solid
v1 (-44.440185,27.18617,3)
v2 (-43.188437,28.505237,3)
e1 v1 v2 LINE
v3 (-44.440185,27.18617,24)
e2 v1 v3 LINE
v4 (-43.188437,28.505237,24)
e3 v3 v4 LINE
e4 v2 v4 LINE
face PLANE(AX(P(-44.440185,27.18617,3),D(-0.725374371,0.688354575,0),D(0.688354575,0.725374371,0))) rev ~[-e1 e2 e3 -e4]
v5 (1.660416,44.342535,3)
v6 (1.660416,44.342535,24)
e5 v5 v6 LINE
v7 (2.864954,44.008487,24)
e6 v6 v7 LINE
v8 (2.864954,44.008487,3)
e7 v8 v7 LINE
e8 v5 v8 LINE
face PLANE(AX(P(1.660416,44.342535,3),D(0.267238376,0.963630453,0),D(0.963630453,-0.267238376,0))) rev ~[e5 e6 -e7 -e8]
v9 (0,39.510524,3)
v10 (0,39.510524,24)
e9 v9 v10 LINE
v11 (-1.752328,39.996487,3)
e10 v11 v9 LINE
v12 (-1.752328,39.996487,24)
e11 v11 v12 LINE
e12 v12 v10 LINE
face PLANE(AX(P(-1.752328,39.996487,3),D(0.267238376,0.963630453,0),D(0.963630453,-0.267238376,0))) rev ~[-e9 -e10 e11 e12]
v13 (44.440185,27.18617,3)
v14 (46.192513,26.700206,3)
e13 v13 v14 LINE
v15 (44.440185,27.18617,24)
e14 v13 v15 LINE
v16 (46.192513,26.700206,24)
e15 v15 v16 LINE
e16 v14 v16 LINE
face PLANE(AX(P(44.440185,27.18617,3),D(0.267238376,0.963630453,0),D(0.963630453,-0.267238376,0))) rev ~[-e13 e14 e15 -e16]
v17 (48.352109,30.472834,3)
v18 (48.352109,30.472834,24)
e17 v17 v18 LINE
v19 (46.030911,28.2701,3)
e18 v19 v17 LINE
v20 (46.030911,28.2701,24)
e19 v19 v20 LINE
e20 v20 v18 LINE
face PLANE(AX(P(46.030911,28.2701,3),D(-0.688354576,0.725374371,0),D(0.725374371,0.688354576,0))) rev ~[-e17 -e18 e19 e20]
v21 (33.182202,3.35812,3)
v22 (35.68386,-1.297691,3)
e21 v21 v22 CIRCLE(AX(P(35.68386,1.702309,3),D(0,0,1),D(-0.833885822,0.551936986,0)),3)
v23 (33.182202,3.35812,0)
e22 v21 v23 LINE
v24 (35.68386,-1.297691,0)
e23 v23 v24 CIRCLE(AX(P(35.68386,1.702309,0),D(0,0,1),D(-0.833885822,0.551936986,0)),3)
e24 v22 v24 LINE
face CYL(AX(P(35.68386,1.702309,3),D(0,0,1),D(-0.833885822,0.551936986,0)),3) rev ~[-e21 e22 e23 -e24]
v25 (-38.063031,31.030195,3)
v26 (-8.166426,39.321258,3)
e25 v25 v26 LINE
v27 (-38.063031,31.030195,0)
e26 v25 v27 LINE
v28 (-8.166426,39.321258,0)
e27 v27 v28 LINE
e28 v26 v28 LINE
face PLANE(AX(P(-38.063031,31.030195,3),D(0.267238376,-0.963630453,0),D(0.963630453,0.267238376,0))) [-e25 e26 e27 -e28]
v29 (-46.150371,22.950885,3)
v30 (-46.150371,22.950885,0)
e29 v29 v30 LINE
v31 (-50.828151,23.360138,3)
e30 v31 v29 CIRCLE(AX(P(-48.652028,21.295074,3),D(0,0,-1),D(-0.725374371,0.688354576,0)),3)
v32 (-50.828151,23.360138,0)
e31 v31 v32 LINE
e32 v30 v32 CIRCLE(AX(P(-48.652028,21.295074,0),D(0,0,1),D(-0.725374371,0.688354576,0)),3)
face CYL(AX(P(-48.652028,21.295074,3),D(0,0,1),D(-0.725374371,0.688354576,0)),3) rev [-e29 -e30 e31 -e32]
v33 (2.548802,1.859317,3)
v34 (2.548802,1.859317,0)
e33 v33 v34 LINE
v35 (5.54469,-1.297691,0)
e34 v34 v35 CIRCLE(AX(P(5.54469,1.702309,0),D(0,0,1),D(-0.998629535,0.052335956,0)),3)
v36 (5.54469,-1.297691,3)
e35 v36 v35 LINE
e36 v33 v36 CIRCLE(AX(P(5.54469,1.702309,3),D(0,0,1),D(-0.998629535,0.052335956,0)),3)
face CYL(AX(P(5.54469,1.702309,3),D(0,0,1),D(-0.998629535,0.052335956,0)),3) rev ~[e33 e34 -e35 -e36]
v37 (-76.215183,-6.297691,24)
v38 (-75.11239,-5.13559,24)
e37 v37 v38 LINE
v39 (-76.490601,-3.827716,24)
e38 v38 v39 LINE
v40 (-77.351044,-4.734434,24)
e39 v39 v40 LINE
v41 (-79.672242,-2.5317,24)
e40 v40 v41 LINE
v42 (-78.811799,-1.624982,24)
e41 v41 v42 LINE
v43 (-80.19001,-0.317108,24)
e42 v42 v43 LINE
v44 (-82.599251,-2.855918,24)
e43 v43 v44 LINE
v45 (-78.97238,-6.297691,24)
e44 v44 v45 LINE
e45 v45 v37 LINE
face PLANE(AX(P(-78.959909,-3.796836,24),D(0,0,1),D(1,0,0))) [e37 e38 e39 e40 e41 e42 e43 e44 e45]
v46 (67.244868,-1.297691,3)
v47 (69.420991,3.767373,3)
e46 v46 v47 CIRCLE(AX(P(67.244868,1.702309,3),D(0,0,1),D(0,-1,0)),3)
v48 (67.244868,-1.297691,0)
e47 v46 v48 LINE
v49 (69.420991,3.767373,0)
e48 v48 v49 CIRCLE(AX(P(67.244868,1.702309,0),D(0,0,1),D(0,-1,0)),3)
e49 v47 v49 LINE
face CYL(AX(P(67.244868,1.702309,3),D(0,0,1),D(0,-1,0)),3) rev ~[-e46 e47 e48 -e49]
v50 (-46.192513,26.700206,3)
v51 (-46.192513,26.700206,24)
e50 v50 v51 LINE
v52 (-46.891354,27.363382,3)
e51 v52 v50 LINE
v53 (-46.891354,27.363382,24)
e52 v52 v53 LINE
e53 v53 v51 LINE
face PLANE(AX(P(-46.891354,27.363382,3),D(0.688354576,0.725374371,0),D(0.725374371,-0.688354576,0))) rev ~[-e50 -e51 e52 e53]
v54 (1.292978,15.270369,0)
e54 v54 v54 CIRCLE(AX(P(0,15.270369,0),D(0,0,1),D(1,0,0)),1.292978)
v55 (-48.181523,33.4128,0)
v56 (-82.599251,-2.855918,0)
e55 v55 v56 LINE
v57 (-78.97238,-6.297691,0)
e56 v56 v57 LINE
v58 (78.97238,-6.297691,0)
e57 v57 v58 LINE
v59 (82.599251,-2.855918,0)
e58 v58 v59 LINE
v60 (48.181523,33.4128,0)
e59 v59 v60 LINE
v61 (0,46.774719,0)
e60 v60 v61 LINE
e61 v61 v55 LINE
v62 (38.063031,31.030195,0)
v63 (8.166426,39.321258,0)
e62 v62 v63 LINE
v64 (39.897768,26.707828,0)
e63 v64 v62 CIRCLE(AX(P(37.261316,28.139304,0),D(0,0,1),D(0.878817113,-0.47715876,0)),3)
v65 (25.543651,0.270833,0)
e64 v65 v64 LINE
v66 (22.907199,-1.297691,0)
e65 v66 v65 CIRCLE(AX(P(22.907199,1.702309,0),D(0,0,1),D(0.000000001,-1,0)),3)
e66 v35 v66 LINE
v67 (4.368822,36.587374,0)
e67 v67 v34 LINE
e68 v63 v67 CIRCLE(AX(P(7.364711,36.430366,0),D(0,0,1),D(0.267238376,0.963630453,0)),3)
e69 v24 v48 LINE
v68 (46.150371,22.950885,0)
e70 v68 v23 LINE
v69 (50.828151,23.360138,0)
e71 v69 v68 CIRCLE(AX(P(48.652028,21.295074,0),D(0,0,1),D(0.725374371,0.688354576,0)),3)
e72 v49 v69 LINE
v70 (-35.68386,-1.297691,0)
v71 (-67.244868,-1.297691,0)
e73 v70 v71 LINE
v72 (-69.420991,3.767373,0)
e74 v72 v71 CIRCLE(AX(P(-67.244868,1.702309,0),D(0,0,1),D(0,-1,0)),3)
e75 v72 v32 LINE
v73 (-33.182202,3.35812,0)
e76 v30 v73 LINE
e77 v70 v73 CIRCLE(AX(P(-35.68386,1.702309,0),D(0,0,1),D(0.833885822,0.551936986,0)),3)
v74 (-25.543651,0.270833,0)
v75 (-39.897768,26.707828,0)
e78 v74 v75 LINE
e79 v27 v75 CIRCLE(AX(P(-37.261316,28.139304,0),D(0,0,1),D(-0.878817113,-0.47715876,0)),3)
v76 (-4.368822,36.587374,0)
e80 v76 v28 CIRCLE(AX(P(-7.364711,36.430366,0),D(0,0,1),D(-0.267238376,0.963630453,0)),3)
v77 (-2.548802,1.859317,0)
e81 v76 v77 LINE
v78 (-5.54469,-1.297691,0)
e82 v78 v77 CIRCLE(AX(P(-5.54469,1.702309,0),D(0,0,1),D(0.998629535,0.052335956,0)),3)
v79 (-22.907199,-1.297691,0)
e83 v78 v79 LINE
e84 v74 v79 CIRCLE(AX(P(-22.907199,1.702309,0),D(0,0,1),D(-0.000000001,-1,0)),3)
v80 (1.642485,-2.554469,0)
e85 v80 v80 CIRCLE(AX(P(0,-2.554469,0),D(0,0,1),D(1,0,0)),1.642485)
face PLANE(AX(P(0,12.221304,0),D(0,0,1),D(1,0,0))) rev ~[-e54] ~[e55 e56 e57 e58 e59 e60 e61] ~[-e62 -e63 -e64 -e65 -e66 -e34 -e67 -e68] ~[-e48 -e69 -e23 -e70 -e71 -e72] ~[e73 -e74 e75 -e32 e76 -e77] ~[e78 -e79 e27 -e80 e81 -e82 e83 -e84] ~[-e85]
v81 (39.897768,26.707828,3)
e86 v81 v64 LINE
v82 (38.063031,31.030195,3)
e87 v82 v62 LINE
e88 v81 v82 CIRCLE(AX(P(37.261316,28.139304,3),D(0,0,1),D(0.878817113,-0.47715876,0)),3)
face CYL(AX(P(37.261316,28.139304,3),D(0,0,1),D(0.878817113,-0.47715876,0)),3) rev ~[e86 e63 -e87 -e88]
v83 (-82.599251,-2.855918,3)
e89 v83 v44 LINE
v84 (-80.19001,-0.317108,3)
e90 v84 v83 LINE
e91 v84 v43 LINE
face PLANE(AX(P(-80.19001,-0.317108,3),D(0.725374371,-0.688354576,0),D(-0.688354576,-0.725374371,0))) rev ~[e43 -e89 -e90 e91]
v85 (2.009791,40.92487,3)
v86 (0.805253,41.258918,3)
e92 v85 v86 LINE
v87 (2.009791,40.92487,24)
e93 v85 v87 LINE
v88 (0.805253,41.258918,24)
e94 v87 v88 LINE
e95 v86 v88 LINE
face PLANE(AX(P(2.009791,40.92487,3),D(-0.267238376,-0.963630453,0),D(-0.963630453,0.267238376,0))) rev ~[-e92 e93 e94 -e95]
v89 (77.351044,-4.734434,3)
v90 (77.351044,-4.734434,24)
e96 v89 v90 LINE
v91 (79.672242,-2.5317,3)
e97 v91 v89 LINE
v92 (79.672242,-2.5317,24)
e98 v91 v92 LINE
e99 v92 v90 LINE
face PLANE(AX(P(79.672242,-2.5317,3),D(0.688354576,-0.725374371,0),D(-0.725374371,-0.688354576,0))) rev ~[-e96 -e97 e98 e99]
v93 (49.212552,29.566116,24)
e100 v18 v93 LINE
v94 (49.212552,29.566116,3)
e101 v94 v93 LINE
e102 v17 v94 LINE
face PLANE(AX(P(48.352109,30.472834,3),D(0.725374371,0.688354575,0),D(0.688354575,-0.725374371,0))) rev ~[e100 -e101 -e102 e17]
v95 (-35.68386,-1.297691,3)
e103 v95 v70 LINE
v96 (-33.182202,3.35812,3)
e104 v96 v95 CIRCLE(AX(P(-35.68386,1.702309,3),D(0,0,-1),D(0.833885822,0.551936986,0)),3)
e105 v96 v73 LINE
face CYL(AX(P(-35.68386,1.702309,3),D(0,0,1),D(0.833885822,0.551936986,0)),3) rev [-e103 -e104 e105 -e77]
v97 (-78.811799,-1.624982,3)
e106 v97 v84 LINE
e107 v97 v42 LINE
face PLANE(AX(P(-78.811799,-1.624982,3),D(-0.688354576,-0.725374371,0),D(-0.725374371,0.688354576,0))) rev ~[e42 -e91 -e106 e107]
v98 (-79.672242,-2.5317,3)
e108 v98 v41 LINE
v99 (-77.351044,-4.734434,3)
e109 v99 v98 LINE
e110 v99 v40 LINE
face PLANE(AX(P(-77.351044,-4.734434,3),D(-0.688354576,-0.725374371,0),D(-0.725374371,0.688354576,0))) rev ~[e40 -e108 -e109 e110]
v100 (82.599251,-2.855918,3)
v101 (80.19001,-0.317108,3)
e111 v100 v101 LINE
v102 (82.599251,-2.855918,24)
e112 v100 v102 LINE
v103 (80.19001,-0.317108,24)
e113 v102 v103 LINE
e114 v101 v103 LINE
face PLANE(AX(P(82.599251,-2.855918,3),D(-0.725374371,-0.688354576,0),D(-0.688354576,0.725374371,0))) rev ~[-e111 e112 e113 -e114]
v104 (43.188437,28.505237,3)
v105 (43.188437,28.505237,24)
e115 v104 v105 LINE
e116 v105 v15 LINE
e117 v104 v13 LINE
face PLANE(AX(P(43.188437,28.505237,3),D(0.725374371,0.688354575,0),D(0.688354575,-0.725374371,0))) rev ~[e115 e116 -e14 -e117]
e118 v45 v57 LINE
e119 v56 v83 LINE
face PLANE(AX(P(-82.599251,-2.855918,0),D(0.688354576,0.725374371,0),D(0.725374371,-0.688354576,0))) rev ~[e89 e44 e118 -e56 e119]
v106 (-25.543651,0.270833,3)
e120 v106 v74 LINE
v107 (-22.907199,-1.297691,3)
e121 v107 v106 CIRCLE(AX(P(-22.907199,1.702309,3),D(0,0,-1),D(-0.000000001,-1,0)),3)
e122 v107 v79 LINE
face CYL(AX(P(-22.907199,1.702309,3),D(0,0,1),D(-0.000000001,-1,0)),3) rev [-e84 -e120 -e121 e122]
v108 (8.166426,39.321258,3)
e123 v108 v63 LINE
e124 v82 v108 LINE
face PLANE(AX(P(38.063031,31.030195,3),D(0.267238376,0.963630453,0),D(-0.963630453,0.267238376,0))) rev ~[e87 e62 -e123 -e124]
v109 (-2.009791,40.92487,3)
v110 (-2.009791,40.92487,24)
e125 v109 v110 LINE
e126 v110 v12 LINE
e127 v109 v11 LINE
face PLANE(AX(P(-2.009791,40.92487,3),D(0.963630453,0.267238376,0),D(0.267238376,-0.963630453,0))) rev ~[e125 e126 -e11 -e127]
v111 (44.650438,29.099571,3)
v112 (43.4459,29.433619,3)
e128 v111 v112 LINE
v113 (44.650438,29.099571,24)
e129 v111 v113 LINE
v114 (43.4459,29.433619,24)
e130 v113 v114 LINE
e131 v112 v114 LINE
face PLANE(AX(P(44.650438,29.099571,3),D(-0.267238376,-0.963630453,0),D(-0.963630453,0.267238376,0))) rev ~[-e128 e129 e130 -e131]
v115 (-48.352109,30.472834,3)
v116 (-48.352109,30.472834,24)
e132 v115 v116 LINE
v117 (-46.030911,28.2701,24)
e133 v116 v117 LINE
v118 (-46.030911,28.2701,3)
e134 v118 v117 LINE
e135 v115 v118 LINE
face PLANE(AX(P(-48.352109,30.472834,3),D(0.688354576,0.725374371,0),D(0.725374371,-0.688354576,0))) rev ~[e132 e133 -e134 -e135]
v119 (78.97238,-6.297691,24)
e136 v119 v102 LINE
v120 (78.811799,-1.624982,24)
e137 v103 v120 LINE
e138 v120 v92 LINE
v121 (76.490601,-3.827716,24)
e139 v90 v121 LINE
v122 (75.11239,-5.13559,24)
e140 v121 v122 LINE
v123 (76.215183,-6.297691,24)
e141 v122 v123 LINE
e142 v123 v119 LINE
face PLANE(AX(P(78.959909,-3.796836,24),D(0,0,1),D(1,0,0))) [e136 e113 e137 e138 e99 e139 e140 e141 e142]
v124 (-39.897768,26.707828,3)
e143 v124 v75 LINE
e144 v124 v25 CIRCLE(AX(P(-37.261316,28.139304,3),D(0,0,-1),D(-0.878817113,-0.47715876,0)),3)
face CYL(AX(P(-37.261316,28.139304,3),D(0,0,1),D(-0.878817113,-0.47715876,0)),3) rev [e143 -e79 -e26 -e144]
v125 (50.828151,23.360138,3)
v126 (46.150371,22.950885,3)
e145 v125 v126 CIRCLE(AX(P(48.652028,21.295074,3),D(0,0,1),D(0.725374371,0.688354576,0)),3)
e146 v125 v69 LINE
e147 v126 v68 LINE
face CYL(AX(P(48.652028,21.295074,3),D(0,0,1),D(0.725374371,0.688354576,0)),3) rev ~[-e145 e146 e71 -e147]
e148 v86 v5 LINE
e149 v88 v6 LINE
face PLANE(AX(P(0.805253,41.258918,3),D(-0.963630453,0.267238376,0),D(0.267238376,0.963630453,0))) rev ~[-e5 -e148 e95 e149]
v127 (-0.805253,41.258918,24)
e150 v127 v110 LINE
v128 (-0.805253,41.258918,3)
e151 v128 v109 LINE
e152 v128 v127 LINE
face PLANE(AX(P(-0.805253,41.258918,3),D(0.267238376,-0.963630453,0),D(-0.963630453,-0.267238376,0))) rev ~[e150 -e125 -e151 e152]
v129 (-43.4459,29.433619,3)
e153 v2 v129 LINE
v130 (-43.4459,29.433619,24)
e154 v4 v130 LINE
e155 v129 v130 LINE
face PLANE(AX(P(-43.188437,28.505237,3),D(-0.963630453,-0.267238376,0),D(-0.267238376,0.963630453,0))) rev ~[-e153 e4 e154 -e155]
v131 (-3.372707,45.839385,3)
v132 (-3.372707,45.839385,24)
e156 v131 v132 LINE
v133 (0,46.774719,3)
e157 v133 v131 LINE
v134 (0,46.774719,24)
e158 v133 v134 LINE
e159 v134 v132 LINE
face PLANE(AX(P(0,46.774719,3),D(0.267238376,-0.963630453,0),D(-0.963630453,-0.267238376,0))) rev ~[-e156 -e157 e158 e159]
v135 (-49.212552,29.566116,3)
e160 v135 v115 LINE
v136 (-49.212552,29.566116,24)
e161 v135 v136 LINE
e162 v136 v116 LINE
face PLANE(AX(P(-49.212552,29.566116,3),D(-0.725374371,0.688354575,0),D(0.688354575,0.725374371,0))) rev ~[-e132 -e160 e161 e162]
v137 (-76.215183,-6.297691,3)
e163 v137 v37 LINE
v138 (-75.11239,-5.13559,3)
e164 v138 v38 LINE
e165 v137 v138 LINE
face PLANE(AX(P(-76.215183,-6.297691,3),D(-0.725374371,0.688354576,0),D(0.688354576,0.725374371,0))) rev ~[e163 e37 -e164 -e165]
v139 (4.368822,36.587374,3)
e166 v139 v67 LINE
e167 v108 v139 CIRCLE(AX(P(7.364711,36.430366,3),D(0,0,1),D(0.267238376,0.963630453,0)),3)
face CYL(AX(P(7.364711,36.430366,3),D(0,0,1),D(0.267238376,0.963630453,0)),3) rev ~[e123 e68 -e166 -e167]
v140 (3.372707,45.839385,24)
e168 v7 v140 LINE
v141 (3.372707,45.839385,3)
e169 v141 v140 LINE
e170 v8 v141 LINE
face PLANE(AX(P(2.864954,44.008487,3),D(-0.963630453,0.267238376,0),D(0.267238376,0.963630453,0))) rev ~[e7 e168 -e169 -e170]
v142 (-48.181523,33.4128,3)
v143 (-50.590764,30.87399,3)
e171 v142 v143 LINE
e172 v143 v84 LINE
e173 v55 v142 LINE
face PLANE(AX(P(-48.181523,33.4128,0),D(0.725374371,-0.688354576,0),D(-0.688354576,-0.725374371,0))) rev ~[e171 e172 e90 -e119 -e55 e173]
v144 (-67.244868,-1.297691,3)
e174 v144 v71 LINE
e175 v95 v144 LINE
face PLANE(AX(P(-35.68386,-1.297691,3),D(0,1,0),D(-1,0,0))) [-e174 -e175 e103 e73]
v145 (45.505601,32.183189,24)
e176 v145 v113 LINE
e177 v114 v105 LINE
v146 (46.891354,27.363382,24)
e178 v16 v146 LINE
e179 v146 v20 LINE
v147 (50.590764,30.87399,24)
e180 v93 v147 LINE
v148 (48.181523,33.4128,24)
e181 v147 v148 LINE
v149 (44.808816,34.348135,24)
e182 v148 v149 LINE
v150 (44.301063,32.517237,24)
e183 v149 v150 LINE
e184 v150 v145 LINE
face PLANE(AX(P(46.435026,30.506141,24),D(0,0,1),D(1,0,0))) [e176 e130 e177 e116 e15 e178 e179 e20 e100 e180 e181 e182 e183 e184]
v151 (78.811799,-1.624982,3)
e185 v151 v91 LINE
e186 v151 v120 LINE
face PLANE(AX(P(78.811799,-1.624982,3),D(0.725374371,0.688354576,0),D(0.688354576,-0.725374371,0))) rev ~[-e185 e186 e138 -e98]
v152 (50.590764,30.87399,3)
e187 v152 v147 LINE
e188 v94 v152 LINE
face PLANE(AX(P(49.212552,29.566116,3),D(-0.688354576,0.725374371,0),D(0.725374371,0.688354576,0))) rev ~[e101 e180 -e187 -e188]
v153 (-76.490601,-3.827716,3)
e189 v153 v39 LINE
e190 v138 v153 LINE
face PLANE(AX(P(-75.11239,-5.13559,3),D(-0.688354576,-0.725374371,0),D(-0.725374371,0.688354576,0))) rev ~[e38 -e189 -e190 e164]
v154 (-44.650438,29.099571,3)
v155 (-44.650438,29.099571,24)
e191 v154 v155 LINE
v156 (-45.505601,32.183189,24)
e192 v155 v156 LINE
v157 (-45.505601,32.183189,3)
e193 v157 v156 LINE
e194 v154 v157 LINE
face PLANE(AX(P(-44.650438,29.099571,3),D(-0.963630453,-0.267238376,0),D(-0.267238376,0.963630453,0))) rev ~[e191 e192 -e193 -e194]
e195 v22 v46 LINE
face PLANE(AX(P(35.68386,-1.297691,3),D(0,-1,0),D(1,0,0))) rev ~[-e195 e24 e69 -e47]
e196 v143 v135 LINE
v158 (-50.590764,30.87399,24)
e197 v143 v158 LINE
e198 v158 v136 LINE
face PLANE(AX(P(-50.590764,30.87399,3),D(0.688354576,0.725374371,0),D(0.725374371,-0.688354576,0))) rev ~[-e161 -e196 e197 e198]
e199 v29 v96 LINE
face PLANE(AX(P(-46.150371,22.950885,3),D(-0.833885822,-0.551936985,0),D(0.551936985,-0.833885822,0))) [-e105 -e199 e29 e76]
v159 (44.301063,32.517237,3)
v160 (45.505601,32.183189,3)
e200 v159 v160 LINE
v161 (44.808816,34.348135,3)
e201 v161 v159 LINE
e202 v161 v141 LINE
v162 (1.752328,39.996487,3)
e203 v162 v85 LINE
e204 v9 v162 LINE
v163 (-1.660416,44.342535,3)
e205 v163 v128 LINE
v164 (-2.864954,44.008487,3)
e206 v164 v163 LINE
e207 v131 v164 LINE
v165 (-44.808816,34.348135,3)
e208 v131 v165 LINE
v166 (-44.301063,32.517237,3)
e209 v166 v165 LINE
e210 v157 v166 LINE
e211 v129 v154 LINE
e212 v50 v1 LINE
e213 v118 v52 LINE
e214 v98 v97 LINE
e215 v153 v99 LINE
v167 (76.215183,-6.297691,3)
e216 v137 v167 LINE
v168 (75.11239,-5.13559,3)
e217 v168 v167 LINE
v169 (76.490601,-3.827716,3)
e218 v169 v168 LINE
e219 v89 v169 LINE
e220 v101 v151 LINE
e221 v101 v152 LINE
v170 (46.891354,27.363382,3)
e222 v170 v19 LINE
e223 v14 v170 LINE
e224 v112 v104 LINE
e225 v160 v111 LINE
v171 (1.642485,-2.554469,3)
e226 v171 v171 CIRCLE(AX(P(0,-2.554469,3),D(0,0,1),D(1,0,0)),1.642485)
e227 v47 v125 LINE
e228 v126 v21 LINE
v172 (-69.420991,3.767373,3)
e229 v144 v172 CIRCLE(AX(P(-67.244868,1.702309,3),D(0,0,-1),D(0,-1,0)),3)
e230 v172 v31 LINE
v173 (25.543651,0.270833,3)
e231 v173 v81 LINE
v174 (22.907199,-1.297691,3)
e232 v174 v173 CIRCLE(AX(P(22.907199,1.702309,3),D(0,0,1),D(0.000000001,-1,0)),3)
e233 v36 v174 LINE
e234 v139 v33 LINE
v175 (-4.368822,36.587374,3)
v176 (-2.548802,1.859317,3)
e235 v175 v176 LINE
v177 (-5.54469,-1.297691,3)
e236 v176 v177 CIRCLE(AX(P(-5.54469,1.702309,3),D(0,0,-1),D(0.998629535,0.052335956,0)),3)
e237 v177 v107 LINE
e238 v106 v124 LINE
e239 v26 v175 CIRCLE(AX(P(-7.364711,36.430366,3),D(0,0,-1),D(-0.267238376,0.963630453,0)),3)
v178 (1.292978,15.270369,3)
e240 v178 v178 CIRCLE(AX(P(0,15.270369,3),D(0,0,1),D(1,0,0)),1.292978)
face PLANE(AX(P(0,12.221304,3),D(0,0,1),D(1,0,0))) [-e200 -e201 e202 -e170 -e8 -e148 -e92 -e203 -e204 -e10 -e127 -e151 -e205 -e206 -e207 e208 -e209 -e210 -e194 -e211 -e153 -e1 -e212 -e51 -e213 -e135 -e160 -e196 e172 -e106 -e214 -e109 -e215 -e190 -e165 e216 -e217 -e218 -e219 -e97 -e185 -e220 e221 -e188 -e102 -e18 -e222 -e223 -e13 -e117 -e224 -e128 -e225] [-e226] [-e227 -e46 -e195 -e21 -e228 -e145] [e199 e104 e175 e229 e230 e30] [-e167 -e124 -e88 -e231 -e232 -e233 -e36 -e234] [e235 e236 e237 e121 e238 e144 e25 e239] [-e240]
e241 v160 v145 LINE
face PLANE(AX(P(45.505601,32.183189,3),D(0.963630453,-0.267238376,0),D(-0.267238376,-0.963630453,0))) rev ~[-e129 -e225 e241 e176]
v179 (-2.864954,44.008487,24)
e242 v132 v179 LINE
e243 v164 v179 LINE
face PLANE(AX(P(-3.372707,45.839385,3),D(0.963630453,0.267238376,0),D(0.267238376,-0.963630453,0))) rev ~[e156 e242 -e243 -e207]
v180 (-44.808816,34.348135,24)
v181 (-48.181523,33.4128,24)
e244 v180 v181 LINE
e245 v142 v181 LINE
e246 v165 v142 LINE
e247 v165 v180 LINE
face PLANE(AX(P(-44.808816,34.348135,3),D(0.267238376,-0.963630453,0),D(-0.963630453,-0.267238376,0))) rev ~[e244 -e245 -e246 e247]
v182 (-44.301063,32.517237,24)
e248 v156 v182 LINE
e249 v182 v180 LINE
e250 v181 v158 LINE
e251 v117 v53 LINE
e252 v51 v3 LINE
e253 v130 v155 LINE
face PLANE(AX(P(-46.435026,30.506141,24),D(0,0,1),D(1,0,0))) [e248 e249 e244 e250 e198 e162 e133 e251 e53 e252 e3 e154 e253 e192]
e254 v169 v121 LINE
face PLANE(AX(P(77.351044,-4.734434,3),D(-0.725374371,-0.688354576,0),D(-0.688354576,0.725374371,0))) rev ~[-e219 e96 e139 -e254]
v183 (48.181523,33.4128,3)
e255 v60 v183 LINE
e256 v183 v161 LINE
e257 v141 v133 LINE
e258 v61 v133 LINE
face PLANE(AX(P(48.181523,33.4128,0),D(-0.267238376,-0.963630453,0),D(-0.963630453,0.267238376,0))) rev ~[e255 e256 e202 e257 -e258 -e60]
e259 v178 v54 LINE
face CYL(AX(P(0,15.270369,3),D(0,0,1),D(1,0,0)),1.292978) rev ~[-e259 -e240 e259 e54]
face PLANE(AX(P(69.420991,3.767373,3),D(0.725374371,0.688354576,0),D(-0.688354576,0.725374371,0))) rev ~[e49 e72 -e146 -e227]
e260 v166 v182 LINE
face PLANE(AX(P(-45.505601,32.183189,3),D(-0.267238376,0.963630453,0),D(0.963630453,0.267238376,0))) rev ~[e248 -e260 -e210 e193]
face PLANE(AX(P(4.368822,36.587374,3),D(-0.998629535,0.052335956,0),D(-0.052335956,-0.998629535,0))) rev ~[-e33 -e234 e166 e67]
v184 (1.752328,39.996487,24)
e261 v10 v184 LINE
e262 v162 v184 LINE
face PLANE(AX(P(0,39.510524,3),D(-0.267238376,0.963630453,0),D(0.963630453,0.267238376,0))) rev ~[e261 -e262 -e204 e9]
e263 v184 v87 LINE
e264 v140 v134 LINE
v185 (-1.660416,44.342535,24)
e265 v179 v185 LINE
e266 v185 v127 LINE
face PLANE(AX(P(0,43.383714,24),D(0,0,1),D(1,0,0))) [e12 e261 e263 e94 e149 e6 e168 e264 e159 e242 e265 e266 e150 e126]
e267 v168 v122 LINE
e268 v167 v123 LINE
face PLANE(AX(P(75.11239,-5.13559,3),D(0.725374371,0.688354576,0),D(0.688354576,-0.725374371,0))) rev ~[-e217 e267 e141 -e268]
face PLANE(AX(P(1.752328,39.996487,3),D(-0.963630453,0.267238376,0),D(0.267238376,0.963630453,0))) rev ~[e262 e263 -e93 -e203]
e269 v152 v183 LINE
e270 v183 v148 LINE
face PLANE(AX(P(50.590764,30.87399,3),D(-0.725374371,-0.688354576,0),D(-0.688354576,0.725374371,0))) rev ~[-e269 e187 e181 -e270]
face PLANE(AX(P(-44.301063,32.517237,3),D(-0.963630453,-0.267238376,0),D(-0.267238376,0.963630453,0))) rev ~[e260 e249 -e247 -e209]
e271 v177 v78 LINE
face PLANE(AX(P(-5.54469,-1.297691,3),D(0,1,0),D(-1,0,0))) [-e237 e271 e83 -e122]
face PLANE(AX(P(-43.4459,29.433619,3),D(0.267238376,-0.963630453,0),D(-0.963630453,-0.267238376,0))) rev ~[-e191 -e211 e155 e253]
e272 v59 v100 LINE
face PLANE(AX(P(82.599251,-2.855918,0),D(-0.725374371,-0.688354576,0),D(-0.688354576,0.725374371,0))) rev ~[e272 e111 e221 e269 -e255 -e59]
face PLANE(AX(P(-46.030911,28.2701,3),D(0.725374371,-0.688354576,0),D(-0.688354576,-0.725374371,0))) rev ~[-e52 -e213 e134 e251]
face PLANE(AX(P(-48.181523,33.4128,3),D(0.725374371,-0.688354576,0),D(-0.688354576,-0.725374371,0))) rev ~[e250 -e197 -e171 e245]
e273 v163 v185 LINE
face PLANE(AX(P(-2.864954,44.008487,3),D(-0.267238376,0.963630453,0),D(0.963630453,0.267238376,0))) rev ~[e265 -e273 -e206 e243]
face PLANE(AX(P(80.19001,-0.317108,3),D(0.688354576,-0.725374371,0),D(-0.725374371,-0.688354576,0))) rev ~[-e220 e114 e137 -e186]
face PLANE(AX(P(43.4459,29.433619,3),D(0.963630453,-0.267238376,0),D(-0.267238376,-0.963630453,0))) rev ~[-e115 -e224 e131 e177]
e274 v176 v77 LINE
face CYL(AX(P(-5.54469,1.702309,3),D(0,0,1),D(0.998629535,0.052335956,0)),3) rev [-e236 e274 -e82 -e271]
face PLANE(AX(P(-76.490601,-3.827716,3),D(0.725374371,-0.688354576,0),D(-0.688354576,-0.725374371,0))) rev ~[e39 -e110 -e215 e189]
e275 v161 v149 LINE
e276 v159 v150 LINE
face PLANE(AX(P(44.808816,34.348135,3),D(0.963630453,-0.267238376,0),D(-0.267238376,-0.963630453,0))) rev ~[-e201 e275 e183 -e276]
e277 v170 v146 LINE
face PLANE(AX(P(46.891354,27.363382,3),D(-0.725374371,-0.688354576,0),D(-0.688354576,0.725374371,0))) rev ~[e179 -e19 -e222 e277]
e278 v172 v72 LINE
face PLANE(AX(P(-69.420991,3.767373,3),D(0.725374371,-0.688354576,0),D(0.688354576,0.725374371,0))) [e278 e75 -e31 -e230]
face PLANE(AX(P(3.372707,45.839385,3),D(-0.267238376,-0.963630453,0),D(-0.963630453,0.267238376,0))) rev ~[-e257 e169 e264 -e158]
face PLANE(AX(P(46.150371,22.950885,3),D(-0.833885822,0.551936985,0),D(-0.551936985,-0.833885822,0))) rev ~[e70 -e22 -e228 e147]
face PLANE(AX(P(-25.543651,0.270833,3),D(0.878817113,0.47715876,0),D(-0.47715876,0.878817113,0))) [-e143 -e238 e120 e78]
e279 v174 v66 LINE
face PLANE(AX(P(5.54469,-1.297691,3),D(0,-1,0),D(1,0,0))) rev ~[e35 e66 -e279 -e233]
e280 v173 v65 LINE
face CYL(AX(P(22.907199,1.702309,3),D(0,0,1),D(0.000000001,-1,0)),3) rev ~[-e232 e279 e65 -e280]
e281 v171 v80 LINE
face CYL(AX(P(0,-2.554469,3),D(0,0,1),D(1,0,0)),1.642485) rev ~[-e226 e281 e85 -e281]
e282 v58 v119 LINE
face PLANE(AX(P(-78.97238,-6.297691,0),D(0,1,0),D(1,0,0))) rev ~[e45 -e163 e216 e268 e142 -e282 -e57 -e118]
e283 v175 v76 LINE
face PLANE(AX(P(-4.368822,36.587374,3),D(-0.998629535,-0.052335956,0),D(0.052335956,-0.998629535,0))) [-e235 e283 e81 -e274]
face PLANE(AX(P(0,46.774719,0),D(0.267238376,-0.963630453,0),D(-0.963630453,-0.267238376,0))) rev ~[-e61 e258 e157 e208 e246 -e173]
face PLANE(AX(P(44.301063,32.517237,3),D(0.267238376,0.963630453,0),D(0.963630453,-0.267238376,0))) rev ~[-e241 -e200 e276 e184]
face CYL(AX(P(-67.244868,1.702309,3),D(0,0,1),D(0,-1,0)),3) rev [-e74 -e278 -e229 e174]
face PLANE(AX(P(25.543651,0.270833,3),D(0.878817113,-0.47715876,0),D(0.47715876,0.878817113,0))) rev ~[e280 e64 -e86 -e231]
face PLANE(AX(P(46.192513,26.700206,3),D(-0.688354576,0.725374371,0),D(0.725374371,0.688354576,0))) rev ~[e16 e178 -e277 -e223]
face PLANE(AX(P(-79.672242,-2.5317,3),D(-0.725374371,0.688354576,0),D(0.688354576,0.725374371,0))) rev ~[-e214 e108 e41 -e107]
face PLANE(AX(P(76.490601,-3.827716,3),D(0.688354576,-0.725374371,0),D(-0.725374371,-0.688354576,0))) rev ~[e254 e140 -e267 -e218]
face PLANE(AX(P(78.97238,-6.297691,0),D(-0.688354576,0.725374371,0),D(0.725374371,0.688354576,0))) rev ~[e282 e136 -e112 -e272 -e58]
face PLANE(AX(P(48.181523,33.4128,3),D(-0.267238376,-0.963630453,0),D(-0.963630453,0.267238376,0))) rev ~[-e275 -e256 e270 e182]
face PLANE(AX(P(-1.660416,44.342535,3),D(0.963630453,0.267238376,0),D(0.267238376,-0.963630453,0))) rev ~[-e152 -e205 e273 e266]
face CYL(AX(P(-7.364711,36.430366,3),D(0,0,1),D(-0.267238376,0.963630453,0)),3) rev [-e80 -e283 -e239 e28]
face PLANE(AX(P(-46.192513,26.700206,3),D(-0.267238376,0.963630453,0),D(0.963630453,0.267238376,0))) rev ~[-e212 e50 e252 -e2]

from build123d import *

# Parameters (mm, degrees)
BOSS_EXTRUDE1_DEPTH = 3
BOSS_EXTRUDE2_DEPTH = 21
SKETCH3_R           = 1.642484664
SKETCH3_R_2         = 1.292978033
CUT_EXTRUDE1_DEPTH  = 98.218880344


with BuildPart() as part:
    # Sketch1 → Boss-Extrude1 (new body)
    with BuildSketch(Plane.XY):
        Polygon((-82.599251445, -2.855918156), (-78.97237959, -6.297691035), (78.97237959, -6.297691035), (82.599251445, -2.855918156), (48.18152266, 33.412800394), (0, 46.774719198), (-48.18152266, 33.412800394), align=None)
    extrude(amount=BOSS_EXTRUDE1_DEPTH)

    # Sketch2 → Boss-Extrude2 (add)
    with BuildSketch(Plane.XY.offset(3)):
        Polygon((-44.808816074, 34.34813471), (-48.18152266, 33.412800394), (-50.590763675, 30.873990096), (-49.21255237, 29.566116402), (-48.352109151, 30.472834366), (-46.030911164, 28.270099723), (-46.891354383, 27.36338176), (-46.192513036, 26.700206083), (-44.440185395, 27.186169547), (-43.188437129, 28.505236993), (-43.445900356, 29.433619399), (-44.650438423, 29.099571429), (-45.505601226, 32.183188879), (-44.30106316, 32.517236849), align=None)
        Polygon((0, 46.774719198), (-3.372706586, 45.839384882), (-2.864953672, 44.008487021), (-1.660415605, 44.342534991), (-0.805252802, 41.25891754), (-2.009790868, 40.92486957), (-1.752327641, 39.996487164), (0, 39.5105237), (1.752327641, 39.996487164), (2.009790868, 40.92486957), (0.805252802, 41.25891754), (1.660415605, 44.342534991), (2.864953672, 44.008487021), (3.372706586, 45.839384882), align=None)
        Polygon((-78.811799125, -1.624981552), (-80.19001043, -0.317107858), (-82.599251445, -2.855918156), (-78.97237959, -6.297691035), (-76.215182645, -6.297691035), (-75.112389833, -5.135589888), (-76.490601138, -3.827716194), (-77.351044358, -4.734434158), (-79.672242345, -2.531699516), align=None)
        Polygon((48.18152266, 33.412800394), (44.808816074, 34.34813471), (44.30106316, 32.517236849), (45.505601226, 32.183188879), (44.650438423, 29.099571429), (43.445900356, 29.433619399), (43.188437129, 28.505236993), (44.440185395, 27.186169547), (46.192513036, 26.700206083), (46.891354383, 27.36338176), (46.030911164, 28.270099723), (48.352109151, 30.472834366), (49.21255237, 29.566116402), (50.590763675, 30.873990096), align=None)
        Polygon((75.112389833, -5.135589888), (76.215182645, -6.297691035), (78.97237959, -6.297691035), (82.599251445, -2.855918156), (80.19001043, -0.317107858), (78.811799125, -1.624981552), (79.672242345, -2.531699516), (77.351044358, -4.734434158), (76.490601138, -3.827716194), align=None)
    extrude(amount=BOSS_EXTRUDE2_DEPTH)

    # Sketch3 → Cut-Extrude1 (cut, through all)
    with BuildSketch(Plane.XY.offset(3)):
        with Locations((0, -2.554468846)):
            Circle(SKETCH3_R)
        with Locations((0, 15.270369354)):
            Circle(SKETCH3_R_2)
        with BuildLine():
            Line((-69.420990751, 3.767372692), (-50.828151114, 23.360137575))
            ThreePointArc((-50.828151114, 23.360137575), (-48.390560772, 24.283657942), (-46.150370534, 22.950884804))
            Line((-46.150370534, 22.950884804), (-33.182202355, 3.358119921))
            ThreePointArc((-33.182202355, 3.358119921), (-33.041187606, 0.282349963), (-35.683859821, -1.297691035))
            Line((-35.683859821, -1.297691035), (-67.244867638, -1.297691035))
            ThreePointArc((-67.244867638, -1.297691035), (-70.001241269, 0.518077396), (-69.420990751, 3.767372692))
        make_face()
        with BuildLine():
            Line((-25.543650537, 0.270832684), (-39.897767636, 26.707827652))
            ThreePointArc((-39.897767636, 26.707827652), (-40.022830858, 29.311497318), (-38.063031426, 31.030195292))
            Line((-38.063031426, 31.030195292), (-8.166425929, 39.321257781))
            ThreePointArc((-8.166425929, 39.321257781), (-5.611961803, 38.865088367), (-4.368822196, 36.58737429))
            Line((-4.368822196, 36.58737429), (-2.548801826, 1.859316834))
            ThreePointArc((-2.548801826, 1.859316834), (-3.368567317, -0.362754762), (-5.54469043, -1.297691035))
            Line((-5.54469043, -1.297691035), (-22.907199199, -1.297691035))
            ThreePointArc((-22.907199199, -1.297691035), (-24.441078457, -0.875910269), (-25.543650537, 0.270832684))
        make_face()
        with BuildLine():
            Line((5.54469043, -1.297691035), (22.907199199, -1.297691035))
            ThreePointArc((22.907199199, -1.297691035), (24.441078457, -0.875910269), (25.543650537, 0.270832684))
            Line((25.543650537, 0.270832684), (39.897767636, 26.707827652))
            ThreePointArc((39.897767636, 26.707827652), (40.022830858, 29.311497318), (38.063031426, 31.030195292))
            Line((38.063031426, 31.030195292), (8.166425929, 39.321257781))
            ThreePointArc((8.166425929, 39.321257781), (5.611961803, 38.865088367), (4.368822196, 36.58737429))
            Line((4.368822196, 36.58737429), (2.548801826, 1.859316834))
            ThreePointArc((2.548801826, 1.859316834), (3.368567317, -0.362754762), (5.54469043, -1.297691035))
        make_face()
        with BuildLine():
            Line((35.683859821, -1.297691035), (67.244867638, -1.297691035))
            ThreePointArc((67.244867638, -1.297691035), (70.001241269, 0.518077396), (69.420990751, 3.767372692))
            Line((69.420990751, 3.767372692), (50.828151114, 23.360137575))
            ThreePointArc((50.828151114, 23.360137575), (48.390560772, 24.283657942), (46.150370534, 22.950884804))
            Line((46.150370534, 22.950884804), (33.182202355, 3.358119921))
            ThreePointArc((33.182202355, 3.358119921), (33.041187606, 0.282349963), (35.683859821, -1.297691035))
        make_face()
    extrude(amount=-CUT_EXTRUDE1_DEPTH, mode=Mode.SUBTRACT)


solid = part.part
